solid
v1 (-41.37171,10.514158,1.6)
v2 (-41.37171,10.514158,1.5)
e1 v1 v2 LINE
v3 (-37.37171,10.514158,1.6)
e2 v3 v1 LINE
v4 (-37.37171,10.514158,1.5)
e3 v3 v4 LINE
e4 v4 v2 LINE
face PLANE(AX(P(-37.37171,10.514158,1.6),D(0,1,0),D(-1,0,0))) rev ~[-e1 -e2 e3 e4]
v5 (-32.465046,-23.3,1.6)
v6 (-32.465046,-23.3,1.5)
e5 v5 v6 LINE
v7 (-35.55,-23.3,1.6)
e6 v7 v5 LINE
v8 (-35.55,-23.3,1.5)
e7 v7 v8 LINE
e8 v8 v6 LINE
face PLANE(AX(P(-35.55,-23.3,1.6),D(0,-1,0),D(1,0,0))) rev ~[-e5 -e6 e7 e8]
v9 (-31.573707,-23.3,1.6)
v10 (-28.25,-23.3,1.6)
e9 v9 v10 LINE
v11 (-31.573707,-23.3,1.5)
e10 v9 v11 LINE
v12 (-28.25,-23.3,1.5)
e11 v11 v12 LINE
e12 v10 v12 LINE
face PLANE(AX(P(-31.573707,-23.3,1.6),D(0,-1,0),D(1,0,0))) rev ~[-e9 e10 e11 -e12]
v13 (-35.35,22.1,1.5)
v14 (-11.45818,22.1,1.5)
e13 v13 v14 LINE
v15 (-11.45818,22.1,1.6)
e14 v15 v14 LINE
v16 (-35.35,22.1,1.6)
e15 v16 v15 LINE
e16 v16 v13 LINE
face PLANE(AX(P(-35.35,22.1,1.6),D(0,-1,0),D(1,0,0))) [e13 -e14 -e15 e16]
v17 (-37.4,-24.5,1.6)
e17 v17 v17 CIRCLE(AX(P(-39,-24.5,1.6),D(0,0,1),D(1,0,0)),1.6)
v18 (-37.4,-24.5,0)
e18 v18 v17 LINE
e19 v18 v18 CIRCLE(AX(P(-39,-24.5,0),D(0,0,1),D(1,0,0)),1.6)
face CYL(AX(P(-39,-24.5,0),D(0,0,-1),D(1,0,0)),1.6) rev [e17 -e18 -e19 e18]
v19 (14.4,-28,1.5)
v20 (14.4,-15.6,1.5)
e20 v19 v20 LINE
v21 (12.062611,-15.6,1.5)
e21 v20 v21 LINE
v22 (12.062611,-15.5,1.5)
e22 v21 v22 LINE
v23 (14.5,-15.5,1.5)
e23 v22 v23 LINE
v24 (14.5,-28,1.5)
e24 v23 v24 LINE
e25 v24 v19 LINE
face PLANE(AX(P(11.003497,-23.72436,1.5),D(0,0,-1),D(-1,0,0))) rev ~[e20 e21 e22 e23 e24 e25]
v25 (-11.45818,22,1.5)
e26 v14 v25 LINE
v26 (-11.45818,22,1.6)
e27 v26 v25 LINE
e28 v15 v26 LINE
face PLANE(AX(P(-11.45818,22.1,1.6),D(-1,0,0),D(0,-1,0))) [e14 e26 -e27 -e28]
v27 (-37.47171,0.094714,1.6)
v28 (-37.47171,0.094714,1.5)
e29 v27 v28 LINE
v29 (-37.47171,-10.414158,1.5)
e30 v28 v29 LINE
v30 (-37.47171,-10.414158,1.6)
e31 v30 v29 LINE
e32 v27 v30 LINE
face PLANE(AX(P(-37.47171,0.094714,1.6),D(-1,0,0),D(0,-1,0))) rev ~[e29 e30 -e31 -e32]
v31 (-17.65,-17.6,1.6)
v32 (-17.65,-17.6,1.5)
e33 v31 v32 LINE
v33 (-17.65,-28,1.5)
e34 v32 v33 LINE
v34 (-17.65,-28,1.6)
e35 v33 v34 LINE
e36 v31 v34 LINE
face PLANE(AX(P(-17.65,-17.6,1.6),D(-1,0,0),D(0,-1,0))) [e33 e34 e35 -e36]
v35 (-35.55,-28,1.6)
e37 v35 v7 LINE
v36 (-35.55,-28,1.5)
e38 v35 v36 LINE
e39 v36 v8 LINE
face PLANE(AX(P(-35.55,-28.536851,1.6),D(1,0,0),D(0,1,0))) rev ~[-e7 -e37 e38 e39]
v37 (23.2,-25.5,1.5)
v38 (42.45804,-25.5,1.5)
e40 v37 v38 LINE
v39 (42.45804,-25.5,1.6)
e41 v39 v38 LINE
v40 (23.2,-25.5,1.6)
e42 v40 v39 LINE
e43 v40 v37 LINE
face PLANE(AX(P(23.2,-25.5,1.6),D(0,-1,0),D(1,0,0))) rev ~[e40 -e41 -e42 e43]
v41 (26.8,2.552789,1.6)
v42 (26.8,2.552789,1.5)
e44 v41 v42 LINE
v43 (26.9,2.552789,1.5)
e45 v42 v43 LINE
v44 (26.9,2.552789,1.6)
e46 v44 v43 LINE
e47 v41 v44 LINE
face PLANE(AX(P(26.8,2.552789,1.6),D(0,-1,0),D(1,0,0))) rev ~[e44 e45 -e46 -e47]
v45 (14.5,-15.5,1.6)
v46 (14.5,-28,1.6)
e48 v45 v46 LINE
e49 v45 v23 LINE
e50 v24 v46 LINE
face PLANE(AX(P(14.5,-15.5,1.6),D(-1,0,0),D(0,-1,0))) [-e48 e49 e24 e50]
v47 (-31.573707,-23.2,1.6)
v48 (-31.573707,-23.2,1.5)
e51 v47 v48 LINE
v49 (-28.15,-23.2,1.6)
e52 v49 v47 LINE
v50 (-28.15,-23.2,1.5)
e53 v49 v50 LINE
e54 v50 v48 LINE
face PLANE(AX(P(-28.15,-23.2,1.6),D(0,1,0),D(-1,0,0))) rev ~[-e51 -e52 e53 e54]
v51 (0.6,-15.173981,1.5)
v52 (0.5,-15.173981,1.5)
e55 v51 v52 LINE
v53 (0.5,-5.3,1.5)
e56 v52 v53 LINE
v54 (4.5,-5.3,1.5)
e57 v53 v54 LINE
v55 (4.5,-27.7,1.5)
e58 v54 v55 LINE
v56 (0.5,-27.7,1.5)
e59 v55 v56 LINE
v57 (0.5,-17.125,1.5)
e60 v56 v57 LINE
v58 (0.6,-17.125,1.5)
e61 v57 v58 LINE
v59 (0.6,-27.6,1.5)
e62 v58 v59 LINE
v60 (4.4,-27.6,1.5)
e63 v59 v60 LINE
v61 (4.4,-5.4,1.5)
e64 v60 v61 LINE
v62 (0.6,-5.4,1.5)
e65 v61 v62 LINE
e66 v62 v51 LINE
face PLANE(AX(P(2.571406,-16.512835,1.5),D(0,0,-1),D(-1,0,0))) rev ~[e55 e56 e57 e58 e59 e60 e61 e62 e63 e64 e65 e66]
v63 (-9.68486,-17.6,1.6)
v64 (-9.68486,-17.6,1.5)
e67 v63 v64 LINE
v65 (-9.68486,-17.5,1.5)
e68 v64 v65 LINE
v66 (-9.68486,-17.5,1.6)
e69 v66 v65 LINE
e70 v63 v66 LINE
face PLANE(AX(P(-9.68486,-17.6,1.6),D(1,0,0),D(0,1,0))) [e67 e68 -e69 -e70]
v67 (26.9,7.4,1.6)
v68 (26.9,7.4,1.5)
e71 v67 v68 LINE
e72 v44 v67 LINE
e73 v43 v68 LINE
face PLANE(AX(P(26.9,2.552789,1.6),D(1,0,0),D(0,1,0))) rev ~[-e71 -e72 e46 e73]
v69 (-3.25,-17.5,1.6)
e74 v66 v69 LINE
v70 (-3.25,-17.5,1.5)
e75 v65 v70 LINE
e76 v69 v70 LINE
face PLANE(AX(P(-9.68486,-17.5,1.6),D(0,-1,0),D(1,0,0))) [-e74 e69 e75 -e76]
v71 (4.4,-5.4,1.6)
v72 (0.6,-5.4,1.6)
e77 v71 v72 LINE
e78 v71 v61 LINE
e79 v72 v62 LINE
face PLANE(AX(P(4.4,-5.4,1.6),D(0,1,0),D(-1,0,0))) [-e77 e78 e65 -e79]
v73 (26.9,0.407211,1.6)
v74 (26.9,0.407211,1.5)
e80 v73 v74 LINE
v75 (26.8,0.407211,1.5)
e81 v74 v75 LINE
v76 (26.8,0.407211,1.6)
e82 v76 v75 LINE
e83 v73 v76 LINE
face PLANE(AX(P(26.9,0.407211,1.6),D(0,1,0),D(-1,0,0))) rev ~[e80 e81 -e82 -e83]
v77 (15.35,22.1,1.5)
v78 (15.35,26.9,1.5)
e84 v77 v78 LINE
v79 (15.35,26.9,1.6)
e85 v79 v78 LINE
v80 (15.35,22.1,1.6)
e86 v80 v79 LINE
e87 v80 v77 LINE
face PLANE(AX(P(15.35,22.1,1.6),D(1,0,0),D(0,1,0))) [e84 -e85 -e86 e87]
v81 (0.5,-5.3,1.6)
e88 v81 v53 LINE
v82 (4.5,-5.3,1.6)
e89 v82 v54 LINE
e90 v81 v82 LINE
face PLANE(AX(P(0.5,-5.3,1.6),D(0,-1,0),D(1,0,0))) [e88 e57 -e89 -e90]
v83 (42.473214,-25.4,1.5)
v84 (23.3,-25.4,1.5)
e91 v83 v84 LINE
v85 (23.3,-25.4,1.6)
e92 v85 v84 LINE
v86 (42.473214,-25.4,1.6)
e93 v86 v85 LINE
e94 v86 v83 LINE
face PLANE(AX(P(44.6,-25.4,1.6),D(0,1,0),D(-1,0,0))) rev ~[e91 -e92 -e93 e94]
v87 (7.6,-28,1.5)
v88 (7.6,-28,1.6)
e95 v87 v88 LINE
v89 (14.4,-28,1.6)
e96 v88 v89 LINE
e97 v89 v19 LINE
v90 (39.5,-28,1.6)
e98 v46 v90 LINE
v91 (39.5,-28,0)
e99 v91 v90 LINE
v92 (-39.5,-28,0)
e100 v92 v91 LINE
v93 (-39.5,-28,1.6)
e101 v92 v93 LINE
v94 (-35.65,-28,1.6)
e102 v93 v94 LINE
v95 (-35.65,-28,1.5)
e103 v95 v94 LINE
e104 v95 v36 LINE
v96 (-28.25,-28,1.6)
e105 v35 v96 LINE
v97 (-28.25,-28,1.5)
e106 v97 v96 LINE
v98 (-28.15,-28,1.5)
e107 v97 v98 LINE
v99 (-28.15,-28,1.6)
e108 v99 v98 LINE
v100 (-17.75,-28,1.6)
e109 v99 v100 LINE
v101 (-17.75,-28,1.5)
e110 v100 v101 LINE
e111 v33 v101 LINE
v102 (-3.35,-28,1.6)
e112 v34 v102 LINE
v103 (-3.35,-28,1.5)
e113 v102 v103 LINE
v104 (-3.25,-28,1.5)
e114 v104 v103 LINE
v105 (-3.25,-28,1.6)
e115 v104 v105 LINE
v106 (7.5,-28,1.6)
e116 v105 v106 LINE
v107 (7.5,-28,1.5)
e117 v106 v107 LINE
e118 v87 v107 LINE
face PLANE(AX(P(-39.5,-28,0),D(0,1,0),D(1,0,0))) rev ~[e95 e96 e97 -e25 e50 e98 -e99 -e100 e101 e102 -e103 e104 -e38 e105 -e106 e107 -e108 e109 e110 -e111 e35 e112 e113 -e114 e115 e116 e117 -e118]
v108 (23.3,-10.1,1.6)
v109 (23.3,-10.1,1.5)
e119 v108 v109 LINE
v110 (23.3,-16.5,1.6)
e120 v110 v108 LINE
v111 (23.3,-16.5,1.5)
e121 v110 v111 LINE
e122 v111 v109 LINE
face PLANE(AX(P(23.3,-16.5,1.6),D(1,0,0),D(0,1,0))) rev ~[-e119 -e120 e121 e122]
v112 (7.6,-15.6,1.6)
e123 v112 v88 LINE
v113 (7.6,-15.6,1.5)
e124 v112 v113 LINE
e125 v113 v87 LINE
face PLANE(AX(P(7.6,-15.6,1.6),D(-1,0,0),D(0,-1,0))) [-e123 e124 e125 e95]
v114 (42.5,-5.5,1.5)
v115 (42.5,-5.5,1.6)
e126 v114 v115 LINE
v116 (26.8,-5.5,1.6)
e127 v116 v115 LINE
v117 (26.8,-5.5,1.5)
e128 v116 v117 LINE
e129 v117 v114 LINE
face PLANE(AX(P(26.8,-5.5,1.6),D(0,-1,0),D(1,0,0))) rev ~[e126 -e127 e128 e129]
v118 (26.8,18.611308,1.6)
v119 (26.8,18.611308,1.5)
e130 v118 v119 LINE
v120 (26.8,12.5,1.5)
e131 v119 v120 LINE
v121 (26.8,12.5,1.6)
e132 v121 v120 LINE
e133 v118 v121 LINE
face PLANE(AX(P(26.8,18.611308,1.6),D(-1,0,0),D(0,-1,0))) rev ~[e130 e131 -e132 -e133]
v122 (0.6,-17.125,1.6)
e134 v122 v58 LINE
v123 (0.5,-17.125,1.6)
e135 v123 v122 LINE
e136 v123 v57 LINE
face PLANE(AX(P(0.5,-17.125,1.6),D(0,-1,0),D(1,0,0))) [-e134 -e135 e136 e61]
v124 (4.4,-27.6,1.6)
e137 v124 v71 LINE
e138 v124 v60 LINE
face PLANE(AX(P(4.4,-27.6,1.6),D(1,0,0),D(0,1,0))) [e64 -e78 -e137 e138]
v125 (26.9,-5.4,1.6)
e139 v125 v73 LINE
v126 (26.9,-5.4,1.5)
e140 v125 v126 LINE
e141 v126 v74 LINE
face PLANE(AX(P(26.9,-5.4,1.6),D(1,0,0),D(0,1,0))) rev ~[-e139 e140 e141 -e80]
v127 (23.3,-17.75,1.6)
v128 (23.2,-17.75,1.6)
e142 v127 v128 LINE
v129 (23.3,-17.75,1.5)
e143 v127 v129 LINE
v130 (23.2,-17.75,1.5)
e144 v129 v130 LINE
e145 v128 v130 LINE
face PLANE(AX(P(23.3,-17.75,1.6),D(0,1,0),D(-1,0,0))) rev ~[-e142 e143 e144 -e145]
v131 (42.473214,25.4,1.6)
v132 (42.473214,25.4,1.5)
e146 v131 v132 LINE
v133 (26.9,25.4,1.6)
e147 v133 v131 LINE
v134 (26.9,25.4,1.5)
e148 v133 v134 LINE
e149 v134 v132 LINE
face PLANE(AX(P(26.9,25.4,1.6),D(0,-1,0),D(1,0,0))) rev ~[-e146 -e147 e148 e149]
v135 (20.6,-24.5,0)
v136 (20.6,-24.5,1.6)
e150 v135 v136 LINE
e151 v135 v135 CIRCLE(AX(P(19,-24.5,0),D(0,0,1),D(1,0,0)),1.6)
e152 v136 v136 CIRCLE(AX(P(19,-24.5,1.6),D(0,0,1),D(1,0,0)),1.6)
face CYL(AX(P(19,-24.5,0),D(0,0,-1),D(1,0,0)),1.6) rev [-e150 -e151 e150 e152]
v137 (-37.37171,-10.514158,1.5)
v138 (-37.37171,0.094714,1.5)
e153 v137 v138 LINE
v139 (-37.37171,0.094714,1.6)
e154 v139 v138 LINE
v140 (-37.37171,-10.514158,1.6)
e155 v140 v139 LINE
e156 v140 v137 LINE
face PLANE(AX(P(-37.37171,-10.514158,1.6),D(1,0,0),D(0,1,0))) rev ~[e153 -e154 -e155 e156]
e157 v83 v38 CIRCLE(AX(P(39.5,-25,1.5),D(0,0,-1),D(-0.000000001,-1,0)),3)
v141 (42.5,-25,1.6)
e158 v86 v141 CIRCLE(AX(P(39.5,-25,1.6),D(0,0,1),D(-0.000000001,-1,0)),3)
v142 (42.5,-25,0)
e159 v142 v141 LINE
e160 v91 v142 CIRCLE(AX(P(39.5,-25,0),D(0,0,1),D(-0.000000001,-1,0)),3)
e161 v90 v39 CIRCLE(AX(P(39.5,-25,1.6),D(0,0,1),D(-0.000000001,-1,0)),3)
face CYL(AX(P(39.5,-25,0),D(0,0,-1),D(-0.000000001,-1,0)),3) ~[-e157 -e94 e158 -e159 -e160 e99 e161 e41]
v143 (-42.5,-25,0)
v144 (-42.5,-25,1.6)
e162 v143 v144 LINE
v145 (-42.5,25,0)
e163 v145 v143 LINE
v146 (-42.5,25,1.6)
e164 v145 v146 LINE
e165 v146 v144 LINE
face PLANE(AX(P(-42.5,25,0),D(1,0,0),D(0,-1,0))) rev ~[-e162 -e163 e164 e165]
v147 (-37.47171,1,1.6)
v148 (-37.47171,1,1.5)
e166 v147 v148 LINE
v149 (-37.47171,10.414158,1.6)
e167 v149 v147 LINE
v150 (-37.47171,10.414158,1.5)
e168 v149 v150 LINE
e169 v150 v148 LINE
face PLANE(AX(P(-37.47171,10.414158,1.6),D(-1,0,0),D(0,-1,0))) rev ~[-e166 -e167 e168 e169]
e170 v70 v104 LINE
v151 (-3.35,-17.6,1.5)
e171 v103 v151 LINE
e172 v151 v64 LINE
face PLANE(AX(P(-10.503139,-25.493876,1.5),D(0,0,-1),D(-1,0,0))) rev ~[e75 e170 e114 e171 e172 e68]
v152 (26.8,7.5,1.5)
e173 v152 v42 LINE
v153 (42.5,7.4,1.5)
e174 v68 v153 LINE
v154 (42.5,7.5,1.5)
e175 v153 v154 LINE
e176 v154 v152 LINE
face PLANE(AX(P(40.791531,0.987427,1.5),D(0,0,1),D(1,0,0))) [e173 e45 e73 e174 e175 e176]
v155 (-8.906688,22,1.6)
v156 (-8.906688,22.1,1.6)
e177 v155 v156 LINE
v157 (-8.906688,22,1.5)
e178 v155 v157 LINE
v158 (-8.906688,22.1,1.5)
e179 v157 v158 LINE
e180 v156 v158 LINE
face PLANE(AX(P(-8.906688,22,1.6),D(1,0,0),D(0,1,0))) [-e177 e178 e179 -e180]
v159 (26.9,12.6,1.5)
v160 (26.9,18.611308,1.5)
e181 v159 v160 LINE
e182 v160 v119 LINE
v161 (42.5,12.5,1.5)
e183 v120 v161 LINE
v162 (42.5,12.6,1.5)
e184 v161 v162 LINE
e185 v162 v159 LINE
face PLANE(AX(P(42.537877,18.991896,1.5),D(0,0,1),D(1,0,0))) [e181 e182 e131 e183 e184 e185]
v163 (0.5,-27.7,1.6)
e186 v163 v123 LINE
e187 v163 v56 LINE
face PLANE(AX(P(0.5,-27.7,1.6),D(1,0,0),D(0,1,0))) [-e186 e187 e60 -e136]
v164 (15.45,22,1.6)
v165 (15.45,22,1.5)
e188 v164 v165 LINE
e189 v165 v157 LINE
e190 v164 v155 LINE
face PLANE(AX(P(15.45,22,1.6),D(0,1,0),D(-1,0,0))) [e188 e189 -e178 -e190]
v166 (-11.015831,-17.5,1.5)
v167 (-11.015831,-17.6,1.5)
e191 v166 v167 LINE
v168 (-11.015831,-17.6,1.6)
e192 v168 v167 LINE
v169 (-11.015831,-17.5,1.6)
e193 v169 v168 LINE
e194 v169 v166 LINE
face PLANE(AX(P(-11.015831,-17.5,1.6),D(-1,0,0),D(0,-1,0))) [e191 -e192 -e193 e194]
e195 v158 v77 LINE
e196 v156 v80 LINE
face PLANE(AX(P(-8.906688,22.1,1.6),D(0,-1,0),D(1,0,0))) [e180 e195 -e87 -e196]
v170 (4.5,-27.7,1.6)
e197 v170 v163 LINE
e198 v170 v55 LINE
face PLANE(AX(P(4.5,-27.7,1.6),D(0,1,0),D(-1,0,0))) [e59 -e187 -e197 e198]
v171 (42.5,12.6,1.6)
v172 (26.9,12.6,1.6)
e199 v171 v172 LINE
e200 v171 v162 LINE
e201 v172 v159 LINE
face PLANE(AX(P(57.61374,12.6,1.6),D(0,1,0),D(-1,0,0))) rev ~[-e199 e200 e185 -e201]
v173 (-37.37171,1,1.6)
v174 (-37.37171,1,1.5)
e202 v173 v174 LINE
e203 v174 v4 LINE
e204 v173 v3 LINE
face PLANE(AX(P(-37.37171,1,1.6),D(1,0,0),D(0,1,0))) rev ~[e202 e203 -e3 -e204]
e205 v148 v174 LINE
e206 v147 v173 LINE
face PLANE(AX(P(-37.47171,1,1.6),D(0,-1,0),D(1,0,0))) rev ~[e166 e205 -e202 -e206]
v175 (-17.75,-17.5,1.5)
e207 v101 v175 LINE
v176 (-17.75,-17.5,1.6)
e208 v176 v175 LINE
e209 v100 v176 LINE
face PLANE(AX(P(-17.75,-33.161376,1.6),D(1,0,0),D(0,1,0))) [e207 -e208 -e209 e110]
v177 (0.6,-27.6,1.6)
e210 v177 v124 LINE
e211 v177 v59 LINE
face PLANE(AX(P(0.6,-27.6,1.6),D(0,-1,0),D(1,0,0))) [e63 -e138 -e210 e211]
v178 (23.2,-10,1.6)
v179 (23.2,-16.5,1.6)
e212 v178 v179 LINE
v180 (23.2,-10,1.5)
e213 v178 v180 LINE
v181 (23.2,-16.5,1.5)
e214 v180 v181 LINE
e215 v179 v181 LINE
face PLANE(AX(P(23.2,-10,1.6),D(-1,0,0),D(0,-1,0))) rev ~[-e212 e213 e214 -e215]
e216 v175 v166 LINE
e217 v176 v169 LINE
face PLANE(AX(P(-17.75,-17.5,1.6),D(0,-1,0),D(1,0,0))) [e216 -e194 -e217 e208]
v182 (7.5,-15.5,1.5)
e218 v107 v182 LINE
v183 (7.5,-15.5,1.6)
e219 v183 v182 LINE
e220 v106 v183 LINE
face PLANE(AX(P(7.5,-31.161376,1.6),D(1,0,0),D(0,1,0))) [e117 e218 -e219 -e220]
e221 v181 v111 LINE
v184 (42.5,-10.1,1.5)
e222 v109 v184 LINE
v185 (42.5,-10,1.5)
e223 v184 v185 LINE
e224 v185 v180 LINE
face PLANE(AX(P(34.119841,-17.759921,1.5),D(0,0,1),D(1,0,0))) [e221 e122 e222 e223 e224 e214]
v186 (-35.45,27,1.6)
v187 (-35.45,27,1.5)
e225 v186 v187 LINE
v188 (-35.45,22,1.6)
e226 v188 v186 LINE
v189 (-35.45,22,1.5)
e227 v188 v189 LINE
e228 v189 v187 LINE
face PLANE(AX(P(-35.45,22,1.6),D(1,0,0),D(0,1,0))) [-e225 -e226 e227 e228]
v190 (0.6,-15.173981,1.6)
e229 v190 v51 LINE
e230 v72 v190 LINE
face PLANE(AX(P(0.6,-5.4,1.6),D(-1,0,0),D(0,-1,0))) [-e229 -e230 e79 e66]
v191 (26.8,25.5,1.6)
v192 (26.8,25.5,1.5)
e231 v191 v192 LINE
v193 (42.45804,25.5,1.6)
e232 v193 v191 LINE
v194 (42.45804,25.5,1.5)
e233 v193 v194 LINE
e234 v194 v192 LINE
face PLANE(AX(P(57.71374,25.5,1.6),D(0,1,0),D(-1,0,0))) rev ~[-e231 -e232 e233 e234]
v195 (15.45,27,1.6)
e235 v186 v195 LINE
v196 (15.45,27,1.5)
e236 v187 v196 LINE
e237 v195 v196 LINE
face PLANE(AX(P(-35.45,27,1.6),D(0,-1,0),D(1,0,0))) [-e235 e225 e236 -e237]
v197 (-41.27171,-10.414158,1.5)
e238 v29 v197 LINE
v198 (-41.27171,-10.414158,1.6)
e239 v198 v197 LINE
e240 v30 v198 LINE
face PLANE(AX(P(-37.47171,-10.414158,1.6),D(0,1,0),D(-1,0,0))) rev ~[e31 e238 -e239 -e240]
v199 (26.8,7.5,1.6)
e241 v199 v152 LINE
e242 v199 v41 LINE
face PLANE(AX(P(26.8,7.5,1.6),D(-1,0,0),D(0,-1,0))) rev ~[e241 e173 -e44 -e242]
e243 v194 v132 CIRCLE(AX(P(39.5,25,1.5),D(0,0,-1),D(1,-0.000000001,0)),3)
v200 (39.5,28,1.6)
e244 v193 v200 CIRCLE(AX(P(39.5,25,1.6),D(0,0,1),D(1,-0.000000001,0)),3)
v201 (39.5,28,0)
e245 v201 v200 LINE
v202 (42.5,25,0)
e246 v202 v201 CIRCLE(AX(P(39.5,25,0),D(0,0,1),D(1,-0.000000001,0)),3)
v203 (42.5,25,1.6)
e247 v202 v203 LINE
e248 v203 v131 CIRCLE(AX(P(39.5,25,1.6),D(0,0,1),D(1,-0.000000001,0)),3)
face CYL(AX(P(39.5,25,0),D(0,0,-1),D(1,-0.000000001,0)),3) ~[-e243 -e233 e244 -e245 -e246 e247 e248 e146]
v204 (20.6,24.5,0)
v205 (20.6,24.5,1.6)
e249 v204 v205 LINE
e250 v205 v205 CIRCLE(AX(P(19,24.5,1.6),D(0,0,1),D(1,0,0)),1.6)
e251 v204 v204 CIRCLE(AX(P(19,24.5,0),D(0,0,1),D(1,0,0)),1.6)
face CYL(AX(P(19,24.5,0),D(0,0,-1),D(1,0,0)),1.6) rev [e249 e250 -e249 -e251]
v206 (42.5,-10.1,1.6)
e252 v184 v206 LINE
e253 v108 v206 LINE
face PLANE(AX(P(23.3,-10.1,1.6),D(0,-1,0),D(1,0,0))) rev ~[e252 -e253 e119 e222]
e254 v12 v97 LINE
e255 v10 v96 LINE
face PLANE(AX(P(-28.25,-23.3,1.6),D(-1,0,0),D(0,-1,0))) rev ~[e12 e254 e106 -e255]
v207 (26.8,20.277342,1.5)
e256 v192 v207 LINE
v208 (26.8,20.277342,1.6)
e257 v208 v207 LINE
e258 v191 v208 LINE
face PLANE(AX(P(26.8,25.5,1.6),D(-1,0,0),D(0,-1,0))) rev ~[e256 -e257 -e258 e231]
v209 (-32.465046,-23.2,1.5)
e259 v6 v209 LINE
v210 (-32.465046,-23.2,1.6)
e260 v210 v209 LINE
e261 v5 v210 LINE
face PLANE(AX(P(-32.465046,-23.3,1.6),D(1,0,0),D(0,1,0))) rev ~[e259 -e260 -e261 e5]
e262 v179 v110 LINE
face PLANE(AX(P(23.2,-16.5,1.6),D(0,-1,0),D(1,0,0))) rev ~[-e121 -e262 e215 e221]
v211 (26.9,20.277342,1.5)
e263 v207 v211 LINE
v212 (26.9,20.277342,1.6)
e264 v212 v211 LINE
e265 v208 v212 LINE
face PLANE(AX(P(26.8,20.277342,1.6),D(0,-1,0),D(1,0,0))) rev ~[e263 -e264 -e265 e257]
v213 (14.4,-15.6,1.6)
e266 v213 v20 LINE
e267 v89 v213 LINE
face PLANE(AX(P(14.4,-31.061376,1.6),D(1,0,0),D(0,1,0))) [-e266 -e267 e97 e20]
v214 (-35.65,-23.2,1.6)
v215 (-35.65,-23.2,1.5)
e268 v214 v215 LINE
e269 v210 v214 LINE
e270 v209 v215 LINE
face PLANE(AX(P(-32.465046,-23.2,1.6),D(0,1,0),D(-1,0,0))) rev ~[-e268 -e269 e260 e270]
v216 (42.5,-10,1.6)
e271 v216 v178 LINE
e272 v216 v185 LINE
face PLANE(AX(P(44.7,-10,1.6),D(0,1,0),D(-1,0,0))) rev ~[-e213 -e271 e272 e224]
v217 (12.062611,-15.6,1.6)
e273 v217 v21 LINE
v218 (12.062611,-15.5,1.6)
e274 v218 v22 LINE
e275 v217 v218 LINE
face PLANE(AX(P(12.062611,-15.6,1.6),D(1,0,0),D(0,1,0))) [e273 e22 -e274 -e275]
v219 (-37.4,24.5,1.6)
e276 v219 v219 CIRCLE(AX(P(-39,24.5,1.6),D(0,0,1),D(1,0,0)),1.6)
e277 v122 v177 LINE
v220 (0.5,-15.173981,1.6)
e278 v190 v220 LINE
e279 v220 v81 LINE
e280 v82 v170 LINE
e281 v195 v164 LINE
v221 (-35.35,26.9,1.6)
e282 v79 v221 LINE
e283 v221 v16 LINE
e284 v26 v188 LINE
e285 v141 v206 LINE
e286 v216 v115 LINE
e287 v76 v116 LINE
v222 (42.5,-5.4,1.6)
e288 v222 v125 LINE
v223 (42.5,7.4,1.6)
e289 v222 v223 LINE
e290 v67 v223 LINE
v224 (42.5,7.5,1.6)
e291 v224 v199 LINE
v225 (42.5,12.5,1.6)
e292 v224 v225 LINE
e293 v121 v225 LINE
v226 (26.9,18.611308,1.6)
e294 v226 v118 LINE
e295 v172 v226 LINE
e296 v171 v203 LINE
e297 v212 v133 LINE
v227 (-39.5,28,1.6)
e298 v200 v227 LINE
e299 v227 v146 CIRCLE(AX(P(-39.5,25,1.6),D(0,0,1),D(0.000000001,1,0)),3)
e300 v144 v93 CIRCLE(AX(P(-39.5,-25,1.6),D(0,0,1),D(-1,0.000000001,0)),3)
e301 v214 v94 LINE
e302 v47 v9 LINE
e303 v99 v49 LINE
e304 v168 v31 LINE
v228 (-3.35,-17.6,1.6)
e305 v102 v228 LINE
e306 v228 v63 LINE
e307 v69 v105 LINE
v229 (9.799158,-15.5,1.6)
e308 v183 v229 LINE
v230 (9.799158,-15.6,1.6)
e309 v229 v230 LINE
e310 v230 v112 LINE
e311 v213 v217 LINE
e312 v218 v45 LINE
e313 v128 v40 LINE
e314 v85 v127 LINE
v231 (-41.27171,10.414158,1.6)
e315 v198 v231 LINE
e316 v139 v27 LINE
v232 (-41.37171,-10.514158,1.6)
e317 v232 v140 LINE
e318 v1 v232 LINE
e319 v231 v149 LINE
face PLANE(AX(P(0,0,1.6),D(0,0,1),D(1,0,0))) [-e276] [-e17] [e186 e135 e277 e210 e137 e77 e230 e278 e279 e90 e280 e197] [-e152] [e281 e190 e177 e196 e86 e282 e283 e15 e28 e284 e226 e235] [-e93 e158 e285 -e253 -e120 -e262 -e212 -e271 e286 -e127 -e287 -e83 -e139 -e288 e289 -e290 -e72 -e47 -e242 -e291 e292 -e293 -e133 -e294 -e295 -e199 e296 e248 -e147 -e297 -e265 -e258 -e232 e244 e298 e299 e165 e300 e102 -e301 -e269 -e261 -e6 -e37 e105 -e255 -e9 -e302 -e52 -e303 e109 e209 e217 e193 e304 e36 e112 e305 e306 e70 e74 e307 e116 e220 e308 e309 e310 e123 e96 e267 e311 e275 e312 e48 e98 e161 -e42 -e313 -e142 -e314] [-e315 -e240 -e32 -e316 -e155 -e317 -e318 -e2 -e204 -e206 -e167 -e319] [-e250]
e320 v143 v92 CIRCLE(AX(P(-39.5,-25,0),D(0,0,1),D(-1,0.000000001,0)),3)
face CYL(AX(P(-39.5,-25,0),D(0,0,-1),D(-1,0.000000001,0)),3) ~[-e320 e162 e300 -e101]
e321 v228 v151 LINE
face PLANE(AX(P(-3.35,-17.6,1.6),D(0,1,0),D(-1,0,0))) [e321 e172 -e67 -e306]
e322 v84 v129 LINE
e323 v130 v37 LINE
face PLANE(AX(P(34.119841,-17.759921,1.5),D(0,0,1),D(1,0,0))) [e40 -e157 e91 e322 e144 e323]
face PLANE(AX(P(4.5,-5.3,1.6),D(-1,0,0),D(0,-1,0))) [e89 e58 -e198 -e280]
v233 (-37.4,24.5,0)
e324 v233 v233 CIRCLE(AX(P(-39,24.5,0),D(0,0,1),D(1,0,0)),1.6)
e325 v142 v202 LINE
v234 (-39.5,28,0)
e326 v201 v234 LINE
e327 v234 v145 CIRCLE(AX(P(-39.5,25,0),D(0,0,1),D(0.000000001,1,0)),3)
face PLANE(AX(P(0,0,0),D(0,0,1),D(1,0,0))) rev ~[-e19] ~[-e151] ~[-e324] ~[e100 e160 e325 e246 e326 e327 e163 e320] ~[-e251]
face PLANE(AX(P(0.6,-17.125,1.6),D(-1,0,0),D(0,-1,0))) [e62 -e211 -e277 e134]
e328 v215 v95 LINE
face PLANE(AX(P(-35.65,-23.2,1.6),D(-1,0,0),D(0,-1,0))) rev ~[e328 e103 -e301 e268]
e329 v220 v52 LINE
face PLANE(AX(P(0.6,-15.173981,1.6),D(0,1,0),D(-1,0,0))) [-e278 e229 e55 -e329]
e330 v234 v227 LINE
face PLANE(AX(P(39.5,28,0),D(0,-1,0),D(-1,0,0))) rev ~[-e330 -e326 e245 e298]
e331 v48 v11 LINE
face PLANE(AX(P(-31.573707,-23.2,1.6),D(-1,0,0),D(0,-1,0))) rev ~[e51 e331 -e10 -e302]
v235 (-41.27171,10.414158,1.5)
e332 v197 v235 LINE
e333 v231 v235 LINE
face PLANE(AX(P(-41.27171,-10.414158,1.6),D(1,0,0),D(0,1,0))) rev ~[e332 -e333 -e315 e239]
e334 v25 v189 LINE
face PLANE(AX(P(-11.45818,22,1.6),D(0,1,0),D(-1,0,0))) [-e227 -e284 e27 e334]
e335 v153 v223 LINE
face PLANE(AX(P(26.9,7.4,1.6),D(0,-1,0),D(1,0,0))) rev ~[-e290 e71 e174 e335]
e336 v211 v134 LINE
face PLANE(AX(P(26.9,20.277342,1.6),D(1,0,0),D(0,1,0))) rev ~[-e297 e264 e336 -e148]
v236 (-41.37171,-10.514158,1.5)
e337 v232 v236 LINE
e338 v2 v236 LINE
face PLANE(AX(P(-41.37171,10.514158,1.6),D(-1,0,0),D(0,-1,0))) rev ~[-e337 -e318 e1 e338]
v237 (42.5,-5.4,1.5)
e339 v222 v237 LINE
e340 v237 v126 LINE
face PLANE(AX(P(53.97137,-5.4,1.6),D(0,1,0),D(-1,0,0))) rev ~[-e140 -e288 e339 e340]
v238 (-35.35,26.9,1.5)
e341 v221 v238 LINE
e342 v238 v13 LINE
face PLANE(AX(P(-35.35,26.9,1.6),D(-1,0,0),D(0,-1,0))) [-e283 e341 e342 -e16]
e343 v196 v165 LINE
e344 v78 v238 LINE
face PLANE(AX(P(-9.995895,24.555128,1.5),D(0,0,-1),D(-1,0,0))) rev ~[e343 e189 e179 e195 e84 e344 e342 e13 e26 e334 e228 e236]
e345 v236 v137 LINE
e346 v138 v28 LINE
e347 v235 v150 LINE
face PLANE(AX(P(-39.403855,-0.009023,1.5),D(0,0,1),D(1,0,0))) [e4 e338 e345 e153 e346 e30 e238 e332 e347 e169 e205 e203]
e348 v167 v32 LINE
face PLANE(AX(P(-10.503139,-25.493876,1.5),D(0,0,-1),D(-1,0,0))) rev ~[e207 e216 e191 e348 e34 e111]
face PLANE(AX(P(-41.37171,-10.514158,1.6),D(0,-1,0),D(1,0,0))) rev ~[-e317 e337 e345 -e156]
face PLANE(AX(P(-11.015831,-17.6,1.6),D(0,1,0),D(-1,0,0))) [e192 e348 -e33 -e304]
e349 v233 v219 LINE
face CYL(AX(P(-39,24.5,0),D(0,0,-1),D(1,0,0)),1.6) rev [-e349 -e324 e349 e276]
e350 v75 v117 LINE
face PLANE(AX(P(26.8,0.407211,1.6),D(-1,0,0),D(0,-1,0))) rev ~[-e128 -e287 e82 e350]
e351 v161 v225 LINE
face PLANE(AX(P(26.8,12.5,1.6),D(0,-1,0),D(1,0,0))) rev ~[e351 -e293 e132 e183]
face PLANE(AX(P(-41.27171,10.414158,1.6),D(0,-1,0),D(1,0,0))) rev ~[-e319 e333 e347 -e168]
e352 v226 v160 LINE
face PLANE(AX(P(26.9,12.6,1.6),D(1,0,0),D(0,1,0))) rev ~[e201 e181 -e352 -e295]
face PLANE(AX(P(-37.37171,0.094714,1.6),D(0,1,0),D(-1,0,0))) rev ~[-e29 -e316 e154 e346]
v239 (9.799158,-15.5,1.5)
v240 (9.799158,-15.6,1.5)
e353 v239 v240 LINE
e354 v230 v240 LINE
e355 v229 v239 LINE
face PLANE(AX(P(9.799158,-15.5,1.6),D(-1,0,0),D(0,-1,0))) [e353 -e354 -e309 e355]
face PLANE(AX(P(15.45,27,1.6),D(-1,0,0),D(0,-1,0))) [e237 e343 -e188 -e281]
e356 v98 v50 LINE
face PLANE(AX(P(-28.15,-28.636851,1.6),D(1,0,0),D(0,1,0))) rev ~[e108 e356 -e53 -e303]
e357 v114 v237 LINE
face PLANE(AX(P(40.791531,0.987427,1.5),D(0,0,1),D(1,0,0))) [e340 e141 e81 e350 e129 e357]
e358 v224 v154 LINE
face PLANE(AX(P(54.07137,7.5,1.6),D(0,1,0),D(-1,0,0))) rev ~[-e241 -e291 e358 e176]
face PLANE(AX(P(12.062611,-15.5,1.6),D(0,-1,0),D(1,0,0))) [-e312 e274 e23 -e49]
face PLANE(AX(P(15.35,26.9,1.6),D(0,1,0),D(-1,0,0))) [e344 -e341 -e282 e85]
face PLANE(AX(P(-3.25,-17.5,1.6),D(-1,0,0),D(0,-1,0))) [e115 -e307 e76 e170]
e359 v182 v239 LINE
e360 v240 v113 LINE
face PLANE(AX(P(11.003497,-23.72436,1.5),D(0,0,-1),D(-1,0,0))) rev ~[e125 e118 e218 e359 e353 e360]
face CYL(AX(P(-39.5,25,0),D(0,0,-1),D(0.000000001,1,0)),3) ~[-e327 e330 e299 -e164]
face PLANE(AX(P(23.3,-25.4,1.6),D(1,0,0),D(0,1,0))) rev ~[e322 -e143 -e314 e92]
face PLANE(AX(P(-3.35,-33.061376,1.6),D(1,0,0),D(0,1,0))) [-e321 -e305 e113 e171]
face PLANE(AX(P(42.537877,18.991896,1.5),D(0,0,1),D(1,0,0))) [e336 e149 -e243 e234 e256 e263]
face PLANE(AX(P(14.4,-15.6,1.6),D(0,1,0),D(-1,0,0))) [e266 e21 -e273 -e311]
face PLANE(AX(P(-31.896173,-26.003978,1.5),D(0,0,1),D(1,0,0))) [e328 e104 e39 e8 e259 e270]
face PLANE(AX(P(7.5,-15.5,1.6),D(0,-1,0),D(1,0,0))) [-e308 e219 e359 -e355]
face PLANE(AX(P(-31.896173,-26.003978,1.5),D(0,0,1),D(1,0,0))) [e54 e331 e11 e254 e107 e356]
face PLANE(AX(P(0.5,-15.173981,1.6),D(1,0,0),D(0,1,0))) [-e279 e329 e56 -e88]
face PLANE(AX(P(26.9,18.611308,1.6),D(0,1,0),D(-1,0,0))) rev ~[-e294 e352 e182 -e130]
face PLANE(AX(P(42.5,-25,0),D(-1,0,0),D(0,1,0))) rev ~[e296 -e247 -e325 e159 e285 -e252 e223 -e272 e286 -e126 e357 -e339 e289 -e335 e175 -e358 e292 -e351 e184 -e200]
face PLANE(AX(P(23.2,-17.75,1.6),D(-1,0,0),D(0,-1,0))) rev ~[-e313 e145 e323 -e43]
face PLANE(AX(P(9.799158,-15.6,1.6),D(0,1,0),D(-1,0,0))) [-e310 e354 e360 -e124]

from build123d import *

# Parameters (mm, degrees)
SKETCH1_R           = 1.6
BOSS_EXTRUDE1_DEPTH = 1.6
CUT_EXTRUDE1_DEPTH  = 0.1


with BuildPart() as part:
    # Sketch1 → Boss-Extrude1 (new body)
    with BuildSketch(Plane.XY):
        with BuildLine():
            Line((-39.5, -28), (39.5, -28))
            ThreePointArc((39.5, -28), (41.621320344, -27.121320344), (42.5, -25))
            Line((42.5, -25), (42.5, 25))
            ThreePointArc((42.5, 25), (41.621320344, 27.121320344), (39.5, 28))
            Line((39.5, 28), (-39.5, 28))
            ThreePointArc((-39.5, 28), (-41.621320344, 27.121320344), (-42.5, 25))
            Line((-42.5, 25), (-42.5, -25))
            ThreePointArc((-42.5, -25), (-41.621320344, -27.121320344), (-39.5, -28))
        make_face()
        with Locations((-39, 24.5)):
            Circle(SKETCH1_R, mode=Mode.SUBTRACT)
        with Locations((-39, -24.5)):
            Circle(SKETCH1_R, mode=Mode.SUBTRACT)
        with Locations((19, 24.5)):
            Circle(SKETCH1_R, mode=Mode.SUBTRACT)
        with Locations((19, -24.5)):
            Circle(SKETCH1_R, mode=Mode.SUBTRACT)
    extrude(amount=BOSS_EXTRUDE1_DEPTH)

    # Sketch2 → Cut-Extrude1 (cut)
    with BuildSketch(Plane.XY.offset(1.6)):
        Polygon((-35.65, -28.636850855), (-28.15, -28.636850855), (-28.15, -23.2), (-31.573707352, -23.2), (-31.573707352, -23.3), (-28.25, -23.3), (-28.25, -28.536850855), (-35.55, -28.536850855), (-35.55, -23.3), (-32.465045999, -23.3), (-32.465045999, -23.2), (-35.65, -23.2), align=None)
        Polygon((-17.75, -17.5), (-11.015830732, -17.5), (-11.015830732, -17.6), (-17.65, -17.6), (-17.65, -33.061376344), (-3.35, -33.061376344), (-3.35, -17.6), (-9.684859924, -17.6), (-9.684859924, -17.5), (-3.25, -17.5), (-3.25, -33.161376344), (-17.75, -33.161376344), align=None)
        Polygon((0.5, -5.3), (4.5, -5.3), (4.5, -27.7), (0.5, -27.7), (0.5, -17.125), (0.6, -17.125), (0.6, -27.6), (4.4, -27.6), (4.4, -5.4), (0.6, -5.4), (0.6, -15.17398131), (0.5, -15.17398131), align=None)
        Polygon((7.5, -15.5), (9.799158316, -15.5), (9.799158316, -15.6), (7.6, -15.6), (7.6, -31.061376344), (14.4, -31.061376344), (14.4, -15.6), (12.062610562, -15.6), (12.062610562, -15.5), (14.5, -15.5), (14.5, -31.161376344), (7.5, -31.161376344), align=None)
        Polygon((-35.45, 27), (15.45, 27), (15.45, 22), (-8.906687942, 22), (-8.906687942, 22.1), (15.35, 22.1), (15.35, 26.9), (-35.35, 26.9), (-35.35, 22.1), (-11.458179647, 22.1), (-11.458179647, 22), (-35.45, 22), align=None)
        Polygon((-41.371710411, -10.514157593), (-37.371710411, -10.514157593), (-37.371710411, 0.094714316), (-37.471710411, 0.094714316), (-37.471710411, -10.414157593), (-41.271710411, -10.414157593), (-41.271710411, 10.414157593), (-37.471710411, 10.414157593), (-37.471710411, 1), (-37.371710411, 1), (-37.371710411, 10.514157593), (-41.371710411, 10.514157593), align=None)
        Polygon((23.2, -25.5), (44.7, -25.5), (44.7, -10), (23.2, -10), (23.2, -16.5), (23.3, -16.5), (23.3, -10.1), (44.6, -10.1), (44.6, -25.4), (23.3, -25.4), (23.3, -17.75), (23.2, -17.75), align=None)
        Polygon((26.8, -5.5), (54.071370237, -5.5), (54.071370237, 7.5), (26.8, 7.5), (26.8, 2.552788505), (26.9, 2.552788505), (26.9, 7.4), (53.971370237, 7.4), (53.971370237, -5.4), (26.9, -5.4), (26.9, 0.407211154), (26.8, 0.407211154), align=None)
        Polygon((26.8, 12.5), (57.71374017, 12.5), (57.71374017, 25.5), (26.8, 25.5), (26.8, 20.277341759), (26.9, 20.277341759), (26.9, 25.4), (57.61374017, 25.4), (57.61374017, 12.6), (26.9, 12.6), (26.9, 18.611308355), (26.8, 18.611308355), align=None)
    extrude(amount=-CUT_EXTRUDE1_DEPTH, mode=Mode.SUBTRACT)


solid = part.part
